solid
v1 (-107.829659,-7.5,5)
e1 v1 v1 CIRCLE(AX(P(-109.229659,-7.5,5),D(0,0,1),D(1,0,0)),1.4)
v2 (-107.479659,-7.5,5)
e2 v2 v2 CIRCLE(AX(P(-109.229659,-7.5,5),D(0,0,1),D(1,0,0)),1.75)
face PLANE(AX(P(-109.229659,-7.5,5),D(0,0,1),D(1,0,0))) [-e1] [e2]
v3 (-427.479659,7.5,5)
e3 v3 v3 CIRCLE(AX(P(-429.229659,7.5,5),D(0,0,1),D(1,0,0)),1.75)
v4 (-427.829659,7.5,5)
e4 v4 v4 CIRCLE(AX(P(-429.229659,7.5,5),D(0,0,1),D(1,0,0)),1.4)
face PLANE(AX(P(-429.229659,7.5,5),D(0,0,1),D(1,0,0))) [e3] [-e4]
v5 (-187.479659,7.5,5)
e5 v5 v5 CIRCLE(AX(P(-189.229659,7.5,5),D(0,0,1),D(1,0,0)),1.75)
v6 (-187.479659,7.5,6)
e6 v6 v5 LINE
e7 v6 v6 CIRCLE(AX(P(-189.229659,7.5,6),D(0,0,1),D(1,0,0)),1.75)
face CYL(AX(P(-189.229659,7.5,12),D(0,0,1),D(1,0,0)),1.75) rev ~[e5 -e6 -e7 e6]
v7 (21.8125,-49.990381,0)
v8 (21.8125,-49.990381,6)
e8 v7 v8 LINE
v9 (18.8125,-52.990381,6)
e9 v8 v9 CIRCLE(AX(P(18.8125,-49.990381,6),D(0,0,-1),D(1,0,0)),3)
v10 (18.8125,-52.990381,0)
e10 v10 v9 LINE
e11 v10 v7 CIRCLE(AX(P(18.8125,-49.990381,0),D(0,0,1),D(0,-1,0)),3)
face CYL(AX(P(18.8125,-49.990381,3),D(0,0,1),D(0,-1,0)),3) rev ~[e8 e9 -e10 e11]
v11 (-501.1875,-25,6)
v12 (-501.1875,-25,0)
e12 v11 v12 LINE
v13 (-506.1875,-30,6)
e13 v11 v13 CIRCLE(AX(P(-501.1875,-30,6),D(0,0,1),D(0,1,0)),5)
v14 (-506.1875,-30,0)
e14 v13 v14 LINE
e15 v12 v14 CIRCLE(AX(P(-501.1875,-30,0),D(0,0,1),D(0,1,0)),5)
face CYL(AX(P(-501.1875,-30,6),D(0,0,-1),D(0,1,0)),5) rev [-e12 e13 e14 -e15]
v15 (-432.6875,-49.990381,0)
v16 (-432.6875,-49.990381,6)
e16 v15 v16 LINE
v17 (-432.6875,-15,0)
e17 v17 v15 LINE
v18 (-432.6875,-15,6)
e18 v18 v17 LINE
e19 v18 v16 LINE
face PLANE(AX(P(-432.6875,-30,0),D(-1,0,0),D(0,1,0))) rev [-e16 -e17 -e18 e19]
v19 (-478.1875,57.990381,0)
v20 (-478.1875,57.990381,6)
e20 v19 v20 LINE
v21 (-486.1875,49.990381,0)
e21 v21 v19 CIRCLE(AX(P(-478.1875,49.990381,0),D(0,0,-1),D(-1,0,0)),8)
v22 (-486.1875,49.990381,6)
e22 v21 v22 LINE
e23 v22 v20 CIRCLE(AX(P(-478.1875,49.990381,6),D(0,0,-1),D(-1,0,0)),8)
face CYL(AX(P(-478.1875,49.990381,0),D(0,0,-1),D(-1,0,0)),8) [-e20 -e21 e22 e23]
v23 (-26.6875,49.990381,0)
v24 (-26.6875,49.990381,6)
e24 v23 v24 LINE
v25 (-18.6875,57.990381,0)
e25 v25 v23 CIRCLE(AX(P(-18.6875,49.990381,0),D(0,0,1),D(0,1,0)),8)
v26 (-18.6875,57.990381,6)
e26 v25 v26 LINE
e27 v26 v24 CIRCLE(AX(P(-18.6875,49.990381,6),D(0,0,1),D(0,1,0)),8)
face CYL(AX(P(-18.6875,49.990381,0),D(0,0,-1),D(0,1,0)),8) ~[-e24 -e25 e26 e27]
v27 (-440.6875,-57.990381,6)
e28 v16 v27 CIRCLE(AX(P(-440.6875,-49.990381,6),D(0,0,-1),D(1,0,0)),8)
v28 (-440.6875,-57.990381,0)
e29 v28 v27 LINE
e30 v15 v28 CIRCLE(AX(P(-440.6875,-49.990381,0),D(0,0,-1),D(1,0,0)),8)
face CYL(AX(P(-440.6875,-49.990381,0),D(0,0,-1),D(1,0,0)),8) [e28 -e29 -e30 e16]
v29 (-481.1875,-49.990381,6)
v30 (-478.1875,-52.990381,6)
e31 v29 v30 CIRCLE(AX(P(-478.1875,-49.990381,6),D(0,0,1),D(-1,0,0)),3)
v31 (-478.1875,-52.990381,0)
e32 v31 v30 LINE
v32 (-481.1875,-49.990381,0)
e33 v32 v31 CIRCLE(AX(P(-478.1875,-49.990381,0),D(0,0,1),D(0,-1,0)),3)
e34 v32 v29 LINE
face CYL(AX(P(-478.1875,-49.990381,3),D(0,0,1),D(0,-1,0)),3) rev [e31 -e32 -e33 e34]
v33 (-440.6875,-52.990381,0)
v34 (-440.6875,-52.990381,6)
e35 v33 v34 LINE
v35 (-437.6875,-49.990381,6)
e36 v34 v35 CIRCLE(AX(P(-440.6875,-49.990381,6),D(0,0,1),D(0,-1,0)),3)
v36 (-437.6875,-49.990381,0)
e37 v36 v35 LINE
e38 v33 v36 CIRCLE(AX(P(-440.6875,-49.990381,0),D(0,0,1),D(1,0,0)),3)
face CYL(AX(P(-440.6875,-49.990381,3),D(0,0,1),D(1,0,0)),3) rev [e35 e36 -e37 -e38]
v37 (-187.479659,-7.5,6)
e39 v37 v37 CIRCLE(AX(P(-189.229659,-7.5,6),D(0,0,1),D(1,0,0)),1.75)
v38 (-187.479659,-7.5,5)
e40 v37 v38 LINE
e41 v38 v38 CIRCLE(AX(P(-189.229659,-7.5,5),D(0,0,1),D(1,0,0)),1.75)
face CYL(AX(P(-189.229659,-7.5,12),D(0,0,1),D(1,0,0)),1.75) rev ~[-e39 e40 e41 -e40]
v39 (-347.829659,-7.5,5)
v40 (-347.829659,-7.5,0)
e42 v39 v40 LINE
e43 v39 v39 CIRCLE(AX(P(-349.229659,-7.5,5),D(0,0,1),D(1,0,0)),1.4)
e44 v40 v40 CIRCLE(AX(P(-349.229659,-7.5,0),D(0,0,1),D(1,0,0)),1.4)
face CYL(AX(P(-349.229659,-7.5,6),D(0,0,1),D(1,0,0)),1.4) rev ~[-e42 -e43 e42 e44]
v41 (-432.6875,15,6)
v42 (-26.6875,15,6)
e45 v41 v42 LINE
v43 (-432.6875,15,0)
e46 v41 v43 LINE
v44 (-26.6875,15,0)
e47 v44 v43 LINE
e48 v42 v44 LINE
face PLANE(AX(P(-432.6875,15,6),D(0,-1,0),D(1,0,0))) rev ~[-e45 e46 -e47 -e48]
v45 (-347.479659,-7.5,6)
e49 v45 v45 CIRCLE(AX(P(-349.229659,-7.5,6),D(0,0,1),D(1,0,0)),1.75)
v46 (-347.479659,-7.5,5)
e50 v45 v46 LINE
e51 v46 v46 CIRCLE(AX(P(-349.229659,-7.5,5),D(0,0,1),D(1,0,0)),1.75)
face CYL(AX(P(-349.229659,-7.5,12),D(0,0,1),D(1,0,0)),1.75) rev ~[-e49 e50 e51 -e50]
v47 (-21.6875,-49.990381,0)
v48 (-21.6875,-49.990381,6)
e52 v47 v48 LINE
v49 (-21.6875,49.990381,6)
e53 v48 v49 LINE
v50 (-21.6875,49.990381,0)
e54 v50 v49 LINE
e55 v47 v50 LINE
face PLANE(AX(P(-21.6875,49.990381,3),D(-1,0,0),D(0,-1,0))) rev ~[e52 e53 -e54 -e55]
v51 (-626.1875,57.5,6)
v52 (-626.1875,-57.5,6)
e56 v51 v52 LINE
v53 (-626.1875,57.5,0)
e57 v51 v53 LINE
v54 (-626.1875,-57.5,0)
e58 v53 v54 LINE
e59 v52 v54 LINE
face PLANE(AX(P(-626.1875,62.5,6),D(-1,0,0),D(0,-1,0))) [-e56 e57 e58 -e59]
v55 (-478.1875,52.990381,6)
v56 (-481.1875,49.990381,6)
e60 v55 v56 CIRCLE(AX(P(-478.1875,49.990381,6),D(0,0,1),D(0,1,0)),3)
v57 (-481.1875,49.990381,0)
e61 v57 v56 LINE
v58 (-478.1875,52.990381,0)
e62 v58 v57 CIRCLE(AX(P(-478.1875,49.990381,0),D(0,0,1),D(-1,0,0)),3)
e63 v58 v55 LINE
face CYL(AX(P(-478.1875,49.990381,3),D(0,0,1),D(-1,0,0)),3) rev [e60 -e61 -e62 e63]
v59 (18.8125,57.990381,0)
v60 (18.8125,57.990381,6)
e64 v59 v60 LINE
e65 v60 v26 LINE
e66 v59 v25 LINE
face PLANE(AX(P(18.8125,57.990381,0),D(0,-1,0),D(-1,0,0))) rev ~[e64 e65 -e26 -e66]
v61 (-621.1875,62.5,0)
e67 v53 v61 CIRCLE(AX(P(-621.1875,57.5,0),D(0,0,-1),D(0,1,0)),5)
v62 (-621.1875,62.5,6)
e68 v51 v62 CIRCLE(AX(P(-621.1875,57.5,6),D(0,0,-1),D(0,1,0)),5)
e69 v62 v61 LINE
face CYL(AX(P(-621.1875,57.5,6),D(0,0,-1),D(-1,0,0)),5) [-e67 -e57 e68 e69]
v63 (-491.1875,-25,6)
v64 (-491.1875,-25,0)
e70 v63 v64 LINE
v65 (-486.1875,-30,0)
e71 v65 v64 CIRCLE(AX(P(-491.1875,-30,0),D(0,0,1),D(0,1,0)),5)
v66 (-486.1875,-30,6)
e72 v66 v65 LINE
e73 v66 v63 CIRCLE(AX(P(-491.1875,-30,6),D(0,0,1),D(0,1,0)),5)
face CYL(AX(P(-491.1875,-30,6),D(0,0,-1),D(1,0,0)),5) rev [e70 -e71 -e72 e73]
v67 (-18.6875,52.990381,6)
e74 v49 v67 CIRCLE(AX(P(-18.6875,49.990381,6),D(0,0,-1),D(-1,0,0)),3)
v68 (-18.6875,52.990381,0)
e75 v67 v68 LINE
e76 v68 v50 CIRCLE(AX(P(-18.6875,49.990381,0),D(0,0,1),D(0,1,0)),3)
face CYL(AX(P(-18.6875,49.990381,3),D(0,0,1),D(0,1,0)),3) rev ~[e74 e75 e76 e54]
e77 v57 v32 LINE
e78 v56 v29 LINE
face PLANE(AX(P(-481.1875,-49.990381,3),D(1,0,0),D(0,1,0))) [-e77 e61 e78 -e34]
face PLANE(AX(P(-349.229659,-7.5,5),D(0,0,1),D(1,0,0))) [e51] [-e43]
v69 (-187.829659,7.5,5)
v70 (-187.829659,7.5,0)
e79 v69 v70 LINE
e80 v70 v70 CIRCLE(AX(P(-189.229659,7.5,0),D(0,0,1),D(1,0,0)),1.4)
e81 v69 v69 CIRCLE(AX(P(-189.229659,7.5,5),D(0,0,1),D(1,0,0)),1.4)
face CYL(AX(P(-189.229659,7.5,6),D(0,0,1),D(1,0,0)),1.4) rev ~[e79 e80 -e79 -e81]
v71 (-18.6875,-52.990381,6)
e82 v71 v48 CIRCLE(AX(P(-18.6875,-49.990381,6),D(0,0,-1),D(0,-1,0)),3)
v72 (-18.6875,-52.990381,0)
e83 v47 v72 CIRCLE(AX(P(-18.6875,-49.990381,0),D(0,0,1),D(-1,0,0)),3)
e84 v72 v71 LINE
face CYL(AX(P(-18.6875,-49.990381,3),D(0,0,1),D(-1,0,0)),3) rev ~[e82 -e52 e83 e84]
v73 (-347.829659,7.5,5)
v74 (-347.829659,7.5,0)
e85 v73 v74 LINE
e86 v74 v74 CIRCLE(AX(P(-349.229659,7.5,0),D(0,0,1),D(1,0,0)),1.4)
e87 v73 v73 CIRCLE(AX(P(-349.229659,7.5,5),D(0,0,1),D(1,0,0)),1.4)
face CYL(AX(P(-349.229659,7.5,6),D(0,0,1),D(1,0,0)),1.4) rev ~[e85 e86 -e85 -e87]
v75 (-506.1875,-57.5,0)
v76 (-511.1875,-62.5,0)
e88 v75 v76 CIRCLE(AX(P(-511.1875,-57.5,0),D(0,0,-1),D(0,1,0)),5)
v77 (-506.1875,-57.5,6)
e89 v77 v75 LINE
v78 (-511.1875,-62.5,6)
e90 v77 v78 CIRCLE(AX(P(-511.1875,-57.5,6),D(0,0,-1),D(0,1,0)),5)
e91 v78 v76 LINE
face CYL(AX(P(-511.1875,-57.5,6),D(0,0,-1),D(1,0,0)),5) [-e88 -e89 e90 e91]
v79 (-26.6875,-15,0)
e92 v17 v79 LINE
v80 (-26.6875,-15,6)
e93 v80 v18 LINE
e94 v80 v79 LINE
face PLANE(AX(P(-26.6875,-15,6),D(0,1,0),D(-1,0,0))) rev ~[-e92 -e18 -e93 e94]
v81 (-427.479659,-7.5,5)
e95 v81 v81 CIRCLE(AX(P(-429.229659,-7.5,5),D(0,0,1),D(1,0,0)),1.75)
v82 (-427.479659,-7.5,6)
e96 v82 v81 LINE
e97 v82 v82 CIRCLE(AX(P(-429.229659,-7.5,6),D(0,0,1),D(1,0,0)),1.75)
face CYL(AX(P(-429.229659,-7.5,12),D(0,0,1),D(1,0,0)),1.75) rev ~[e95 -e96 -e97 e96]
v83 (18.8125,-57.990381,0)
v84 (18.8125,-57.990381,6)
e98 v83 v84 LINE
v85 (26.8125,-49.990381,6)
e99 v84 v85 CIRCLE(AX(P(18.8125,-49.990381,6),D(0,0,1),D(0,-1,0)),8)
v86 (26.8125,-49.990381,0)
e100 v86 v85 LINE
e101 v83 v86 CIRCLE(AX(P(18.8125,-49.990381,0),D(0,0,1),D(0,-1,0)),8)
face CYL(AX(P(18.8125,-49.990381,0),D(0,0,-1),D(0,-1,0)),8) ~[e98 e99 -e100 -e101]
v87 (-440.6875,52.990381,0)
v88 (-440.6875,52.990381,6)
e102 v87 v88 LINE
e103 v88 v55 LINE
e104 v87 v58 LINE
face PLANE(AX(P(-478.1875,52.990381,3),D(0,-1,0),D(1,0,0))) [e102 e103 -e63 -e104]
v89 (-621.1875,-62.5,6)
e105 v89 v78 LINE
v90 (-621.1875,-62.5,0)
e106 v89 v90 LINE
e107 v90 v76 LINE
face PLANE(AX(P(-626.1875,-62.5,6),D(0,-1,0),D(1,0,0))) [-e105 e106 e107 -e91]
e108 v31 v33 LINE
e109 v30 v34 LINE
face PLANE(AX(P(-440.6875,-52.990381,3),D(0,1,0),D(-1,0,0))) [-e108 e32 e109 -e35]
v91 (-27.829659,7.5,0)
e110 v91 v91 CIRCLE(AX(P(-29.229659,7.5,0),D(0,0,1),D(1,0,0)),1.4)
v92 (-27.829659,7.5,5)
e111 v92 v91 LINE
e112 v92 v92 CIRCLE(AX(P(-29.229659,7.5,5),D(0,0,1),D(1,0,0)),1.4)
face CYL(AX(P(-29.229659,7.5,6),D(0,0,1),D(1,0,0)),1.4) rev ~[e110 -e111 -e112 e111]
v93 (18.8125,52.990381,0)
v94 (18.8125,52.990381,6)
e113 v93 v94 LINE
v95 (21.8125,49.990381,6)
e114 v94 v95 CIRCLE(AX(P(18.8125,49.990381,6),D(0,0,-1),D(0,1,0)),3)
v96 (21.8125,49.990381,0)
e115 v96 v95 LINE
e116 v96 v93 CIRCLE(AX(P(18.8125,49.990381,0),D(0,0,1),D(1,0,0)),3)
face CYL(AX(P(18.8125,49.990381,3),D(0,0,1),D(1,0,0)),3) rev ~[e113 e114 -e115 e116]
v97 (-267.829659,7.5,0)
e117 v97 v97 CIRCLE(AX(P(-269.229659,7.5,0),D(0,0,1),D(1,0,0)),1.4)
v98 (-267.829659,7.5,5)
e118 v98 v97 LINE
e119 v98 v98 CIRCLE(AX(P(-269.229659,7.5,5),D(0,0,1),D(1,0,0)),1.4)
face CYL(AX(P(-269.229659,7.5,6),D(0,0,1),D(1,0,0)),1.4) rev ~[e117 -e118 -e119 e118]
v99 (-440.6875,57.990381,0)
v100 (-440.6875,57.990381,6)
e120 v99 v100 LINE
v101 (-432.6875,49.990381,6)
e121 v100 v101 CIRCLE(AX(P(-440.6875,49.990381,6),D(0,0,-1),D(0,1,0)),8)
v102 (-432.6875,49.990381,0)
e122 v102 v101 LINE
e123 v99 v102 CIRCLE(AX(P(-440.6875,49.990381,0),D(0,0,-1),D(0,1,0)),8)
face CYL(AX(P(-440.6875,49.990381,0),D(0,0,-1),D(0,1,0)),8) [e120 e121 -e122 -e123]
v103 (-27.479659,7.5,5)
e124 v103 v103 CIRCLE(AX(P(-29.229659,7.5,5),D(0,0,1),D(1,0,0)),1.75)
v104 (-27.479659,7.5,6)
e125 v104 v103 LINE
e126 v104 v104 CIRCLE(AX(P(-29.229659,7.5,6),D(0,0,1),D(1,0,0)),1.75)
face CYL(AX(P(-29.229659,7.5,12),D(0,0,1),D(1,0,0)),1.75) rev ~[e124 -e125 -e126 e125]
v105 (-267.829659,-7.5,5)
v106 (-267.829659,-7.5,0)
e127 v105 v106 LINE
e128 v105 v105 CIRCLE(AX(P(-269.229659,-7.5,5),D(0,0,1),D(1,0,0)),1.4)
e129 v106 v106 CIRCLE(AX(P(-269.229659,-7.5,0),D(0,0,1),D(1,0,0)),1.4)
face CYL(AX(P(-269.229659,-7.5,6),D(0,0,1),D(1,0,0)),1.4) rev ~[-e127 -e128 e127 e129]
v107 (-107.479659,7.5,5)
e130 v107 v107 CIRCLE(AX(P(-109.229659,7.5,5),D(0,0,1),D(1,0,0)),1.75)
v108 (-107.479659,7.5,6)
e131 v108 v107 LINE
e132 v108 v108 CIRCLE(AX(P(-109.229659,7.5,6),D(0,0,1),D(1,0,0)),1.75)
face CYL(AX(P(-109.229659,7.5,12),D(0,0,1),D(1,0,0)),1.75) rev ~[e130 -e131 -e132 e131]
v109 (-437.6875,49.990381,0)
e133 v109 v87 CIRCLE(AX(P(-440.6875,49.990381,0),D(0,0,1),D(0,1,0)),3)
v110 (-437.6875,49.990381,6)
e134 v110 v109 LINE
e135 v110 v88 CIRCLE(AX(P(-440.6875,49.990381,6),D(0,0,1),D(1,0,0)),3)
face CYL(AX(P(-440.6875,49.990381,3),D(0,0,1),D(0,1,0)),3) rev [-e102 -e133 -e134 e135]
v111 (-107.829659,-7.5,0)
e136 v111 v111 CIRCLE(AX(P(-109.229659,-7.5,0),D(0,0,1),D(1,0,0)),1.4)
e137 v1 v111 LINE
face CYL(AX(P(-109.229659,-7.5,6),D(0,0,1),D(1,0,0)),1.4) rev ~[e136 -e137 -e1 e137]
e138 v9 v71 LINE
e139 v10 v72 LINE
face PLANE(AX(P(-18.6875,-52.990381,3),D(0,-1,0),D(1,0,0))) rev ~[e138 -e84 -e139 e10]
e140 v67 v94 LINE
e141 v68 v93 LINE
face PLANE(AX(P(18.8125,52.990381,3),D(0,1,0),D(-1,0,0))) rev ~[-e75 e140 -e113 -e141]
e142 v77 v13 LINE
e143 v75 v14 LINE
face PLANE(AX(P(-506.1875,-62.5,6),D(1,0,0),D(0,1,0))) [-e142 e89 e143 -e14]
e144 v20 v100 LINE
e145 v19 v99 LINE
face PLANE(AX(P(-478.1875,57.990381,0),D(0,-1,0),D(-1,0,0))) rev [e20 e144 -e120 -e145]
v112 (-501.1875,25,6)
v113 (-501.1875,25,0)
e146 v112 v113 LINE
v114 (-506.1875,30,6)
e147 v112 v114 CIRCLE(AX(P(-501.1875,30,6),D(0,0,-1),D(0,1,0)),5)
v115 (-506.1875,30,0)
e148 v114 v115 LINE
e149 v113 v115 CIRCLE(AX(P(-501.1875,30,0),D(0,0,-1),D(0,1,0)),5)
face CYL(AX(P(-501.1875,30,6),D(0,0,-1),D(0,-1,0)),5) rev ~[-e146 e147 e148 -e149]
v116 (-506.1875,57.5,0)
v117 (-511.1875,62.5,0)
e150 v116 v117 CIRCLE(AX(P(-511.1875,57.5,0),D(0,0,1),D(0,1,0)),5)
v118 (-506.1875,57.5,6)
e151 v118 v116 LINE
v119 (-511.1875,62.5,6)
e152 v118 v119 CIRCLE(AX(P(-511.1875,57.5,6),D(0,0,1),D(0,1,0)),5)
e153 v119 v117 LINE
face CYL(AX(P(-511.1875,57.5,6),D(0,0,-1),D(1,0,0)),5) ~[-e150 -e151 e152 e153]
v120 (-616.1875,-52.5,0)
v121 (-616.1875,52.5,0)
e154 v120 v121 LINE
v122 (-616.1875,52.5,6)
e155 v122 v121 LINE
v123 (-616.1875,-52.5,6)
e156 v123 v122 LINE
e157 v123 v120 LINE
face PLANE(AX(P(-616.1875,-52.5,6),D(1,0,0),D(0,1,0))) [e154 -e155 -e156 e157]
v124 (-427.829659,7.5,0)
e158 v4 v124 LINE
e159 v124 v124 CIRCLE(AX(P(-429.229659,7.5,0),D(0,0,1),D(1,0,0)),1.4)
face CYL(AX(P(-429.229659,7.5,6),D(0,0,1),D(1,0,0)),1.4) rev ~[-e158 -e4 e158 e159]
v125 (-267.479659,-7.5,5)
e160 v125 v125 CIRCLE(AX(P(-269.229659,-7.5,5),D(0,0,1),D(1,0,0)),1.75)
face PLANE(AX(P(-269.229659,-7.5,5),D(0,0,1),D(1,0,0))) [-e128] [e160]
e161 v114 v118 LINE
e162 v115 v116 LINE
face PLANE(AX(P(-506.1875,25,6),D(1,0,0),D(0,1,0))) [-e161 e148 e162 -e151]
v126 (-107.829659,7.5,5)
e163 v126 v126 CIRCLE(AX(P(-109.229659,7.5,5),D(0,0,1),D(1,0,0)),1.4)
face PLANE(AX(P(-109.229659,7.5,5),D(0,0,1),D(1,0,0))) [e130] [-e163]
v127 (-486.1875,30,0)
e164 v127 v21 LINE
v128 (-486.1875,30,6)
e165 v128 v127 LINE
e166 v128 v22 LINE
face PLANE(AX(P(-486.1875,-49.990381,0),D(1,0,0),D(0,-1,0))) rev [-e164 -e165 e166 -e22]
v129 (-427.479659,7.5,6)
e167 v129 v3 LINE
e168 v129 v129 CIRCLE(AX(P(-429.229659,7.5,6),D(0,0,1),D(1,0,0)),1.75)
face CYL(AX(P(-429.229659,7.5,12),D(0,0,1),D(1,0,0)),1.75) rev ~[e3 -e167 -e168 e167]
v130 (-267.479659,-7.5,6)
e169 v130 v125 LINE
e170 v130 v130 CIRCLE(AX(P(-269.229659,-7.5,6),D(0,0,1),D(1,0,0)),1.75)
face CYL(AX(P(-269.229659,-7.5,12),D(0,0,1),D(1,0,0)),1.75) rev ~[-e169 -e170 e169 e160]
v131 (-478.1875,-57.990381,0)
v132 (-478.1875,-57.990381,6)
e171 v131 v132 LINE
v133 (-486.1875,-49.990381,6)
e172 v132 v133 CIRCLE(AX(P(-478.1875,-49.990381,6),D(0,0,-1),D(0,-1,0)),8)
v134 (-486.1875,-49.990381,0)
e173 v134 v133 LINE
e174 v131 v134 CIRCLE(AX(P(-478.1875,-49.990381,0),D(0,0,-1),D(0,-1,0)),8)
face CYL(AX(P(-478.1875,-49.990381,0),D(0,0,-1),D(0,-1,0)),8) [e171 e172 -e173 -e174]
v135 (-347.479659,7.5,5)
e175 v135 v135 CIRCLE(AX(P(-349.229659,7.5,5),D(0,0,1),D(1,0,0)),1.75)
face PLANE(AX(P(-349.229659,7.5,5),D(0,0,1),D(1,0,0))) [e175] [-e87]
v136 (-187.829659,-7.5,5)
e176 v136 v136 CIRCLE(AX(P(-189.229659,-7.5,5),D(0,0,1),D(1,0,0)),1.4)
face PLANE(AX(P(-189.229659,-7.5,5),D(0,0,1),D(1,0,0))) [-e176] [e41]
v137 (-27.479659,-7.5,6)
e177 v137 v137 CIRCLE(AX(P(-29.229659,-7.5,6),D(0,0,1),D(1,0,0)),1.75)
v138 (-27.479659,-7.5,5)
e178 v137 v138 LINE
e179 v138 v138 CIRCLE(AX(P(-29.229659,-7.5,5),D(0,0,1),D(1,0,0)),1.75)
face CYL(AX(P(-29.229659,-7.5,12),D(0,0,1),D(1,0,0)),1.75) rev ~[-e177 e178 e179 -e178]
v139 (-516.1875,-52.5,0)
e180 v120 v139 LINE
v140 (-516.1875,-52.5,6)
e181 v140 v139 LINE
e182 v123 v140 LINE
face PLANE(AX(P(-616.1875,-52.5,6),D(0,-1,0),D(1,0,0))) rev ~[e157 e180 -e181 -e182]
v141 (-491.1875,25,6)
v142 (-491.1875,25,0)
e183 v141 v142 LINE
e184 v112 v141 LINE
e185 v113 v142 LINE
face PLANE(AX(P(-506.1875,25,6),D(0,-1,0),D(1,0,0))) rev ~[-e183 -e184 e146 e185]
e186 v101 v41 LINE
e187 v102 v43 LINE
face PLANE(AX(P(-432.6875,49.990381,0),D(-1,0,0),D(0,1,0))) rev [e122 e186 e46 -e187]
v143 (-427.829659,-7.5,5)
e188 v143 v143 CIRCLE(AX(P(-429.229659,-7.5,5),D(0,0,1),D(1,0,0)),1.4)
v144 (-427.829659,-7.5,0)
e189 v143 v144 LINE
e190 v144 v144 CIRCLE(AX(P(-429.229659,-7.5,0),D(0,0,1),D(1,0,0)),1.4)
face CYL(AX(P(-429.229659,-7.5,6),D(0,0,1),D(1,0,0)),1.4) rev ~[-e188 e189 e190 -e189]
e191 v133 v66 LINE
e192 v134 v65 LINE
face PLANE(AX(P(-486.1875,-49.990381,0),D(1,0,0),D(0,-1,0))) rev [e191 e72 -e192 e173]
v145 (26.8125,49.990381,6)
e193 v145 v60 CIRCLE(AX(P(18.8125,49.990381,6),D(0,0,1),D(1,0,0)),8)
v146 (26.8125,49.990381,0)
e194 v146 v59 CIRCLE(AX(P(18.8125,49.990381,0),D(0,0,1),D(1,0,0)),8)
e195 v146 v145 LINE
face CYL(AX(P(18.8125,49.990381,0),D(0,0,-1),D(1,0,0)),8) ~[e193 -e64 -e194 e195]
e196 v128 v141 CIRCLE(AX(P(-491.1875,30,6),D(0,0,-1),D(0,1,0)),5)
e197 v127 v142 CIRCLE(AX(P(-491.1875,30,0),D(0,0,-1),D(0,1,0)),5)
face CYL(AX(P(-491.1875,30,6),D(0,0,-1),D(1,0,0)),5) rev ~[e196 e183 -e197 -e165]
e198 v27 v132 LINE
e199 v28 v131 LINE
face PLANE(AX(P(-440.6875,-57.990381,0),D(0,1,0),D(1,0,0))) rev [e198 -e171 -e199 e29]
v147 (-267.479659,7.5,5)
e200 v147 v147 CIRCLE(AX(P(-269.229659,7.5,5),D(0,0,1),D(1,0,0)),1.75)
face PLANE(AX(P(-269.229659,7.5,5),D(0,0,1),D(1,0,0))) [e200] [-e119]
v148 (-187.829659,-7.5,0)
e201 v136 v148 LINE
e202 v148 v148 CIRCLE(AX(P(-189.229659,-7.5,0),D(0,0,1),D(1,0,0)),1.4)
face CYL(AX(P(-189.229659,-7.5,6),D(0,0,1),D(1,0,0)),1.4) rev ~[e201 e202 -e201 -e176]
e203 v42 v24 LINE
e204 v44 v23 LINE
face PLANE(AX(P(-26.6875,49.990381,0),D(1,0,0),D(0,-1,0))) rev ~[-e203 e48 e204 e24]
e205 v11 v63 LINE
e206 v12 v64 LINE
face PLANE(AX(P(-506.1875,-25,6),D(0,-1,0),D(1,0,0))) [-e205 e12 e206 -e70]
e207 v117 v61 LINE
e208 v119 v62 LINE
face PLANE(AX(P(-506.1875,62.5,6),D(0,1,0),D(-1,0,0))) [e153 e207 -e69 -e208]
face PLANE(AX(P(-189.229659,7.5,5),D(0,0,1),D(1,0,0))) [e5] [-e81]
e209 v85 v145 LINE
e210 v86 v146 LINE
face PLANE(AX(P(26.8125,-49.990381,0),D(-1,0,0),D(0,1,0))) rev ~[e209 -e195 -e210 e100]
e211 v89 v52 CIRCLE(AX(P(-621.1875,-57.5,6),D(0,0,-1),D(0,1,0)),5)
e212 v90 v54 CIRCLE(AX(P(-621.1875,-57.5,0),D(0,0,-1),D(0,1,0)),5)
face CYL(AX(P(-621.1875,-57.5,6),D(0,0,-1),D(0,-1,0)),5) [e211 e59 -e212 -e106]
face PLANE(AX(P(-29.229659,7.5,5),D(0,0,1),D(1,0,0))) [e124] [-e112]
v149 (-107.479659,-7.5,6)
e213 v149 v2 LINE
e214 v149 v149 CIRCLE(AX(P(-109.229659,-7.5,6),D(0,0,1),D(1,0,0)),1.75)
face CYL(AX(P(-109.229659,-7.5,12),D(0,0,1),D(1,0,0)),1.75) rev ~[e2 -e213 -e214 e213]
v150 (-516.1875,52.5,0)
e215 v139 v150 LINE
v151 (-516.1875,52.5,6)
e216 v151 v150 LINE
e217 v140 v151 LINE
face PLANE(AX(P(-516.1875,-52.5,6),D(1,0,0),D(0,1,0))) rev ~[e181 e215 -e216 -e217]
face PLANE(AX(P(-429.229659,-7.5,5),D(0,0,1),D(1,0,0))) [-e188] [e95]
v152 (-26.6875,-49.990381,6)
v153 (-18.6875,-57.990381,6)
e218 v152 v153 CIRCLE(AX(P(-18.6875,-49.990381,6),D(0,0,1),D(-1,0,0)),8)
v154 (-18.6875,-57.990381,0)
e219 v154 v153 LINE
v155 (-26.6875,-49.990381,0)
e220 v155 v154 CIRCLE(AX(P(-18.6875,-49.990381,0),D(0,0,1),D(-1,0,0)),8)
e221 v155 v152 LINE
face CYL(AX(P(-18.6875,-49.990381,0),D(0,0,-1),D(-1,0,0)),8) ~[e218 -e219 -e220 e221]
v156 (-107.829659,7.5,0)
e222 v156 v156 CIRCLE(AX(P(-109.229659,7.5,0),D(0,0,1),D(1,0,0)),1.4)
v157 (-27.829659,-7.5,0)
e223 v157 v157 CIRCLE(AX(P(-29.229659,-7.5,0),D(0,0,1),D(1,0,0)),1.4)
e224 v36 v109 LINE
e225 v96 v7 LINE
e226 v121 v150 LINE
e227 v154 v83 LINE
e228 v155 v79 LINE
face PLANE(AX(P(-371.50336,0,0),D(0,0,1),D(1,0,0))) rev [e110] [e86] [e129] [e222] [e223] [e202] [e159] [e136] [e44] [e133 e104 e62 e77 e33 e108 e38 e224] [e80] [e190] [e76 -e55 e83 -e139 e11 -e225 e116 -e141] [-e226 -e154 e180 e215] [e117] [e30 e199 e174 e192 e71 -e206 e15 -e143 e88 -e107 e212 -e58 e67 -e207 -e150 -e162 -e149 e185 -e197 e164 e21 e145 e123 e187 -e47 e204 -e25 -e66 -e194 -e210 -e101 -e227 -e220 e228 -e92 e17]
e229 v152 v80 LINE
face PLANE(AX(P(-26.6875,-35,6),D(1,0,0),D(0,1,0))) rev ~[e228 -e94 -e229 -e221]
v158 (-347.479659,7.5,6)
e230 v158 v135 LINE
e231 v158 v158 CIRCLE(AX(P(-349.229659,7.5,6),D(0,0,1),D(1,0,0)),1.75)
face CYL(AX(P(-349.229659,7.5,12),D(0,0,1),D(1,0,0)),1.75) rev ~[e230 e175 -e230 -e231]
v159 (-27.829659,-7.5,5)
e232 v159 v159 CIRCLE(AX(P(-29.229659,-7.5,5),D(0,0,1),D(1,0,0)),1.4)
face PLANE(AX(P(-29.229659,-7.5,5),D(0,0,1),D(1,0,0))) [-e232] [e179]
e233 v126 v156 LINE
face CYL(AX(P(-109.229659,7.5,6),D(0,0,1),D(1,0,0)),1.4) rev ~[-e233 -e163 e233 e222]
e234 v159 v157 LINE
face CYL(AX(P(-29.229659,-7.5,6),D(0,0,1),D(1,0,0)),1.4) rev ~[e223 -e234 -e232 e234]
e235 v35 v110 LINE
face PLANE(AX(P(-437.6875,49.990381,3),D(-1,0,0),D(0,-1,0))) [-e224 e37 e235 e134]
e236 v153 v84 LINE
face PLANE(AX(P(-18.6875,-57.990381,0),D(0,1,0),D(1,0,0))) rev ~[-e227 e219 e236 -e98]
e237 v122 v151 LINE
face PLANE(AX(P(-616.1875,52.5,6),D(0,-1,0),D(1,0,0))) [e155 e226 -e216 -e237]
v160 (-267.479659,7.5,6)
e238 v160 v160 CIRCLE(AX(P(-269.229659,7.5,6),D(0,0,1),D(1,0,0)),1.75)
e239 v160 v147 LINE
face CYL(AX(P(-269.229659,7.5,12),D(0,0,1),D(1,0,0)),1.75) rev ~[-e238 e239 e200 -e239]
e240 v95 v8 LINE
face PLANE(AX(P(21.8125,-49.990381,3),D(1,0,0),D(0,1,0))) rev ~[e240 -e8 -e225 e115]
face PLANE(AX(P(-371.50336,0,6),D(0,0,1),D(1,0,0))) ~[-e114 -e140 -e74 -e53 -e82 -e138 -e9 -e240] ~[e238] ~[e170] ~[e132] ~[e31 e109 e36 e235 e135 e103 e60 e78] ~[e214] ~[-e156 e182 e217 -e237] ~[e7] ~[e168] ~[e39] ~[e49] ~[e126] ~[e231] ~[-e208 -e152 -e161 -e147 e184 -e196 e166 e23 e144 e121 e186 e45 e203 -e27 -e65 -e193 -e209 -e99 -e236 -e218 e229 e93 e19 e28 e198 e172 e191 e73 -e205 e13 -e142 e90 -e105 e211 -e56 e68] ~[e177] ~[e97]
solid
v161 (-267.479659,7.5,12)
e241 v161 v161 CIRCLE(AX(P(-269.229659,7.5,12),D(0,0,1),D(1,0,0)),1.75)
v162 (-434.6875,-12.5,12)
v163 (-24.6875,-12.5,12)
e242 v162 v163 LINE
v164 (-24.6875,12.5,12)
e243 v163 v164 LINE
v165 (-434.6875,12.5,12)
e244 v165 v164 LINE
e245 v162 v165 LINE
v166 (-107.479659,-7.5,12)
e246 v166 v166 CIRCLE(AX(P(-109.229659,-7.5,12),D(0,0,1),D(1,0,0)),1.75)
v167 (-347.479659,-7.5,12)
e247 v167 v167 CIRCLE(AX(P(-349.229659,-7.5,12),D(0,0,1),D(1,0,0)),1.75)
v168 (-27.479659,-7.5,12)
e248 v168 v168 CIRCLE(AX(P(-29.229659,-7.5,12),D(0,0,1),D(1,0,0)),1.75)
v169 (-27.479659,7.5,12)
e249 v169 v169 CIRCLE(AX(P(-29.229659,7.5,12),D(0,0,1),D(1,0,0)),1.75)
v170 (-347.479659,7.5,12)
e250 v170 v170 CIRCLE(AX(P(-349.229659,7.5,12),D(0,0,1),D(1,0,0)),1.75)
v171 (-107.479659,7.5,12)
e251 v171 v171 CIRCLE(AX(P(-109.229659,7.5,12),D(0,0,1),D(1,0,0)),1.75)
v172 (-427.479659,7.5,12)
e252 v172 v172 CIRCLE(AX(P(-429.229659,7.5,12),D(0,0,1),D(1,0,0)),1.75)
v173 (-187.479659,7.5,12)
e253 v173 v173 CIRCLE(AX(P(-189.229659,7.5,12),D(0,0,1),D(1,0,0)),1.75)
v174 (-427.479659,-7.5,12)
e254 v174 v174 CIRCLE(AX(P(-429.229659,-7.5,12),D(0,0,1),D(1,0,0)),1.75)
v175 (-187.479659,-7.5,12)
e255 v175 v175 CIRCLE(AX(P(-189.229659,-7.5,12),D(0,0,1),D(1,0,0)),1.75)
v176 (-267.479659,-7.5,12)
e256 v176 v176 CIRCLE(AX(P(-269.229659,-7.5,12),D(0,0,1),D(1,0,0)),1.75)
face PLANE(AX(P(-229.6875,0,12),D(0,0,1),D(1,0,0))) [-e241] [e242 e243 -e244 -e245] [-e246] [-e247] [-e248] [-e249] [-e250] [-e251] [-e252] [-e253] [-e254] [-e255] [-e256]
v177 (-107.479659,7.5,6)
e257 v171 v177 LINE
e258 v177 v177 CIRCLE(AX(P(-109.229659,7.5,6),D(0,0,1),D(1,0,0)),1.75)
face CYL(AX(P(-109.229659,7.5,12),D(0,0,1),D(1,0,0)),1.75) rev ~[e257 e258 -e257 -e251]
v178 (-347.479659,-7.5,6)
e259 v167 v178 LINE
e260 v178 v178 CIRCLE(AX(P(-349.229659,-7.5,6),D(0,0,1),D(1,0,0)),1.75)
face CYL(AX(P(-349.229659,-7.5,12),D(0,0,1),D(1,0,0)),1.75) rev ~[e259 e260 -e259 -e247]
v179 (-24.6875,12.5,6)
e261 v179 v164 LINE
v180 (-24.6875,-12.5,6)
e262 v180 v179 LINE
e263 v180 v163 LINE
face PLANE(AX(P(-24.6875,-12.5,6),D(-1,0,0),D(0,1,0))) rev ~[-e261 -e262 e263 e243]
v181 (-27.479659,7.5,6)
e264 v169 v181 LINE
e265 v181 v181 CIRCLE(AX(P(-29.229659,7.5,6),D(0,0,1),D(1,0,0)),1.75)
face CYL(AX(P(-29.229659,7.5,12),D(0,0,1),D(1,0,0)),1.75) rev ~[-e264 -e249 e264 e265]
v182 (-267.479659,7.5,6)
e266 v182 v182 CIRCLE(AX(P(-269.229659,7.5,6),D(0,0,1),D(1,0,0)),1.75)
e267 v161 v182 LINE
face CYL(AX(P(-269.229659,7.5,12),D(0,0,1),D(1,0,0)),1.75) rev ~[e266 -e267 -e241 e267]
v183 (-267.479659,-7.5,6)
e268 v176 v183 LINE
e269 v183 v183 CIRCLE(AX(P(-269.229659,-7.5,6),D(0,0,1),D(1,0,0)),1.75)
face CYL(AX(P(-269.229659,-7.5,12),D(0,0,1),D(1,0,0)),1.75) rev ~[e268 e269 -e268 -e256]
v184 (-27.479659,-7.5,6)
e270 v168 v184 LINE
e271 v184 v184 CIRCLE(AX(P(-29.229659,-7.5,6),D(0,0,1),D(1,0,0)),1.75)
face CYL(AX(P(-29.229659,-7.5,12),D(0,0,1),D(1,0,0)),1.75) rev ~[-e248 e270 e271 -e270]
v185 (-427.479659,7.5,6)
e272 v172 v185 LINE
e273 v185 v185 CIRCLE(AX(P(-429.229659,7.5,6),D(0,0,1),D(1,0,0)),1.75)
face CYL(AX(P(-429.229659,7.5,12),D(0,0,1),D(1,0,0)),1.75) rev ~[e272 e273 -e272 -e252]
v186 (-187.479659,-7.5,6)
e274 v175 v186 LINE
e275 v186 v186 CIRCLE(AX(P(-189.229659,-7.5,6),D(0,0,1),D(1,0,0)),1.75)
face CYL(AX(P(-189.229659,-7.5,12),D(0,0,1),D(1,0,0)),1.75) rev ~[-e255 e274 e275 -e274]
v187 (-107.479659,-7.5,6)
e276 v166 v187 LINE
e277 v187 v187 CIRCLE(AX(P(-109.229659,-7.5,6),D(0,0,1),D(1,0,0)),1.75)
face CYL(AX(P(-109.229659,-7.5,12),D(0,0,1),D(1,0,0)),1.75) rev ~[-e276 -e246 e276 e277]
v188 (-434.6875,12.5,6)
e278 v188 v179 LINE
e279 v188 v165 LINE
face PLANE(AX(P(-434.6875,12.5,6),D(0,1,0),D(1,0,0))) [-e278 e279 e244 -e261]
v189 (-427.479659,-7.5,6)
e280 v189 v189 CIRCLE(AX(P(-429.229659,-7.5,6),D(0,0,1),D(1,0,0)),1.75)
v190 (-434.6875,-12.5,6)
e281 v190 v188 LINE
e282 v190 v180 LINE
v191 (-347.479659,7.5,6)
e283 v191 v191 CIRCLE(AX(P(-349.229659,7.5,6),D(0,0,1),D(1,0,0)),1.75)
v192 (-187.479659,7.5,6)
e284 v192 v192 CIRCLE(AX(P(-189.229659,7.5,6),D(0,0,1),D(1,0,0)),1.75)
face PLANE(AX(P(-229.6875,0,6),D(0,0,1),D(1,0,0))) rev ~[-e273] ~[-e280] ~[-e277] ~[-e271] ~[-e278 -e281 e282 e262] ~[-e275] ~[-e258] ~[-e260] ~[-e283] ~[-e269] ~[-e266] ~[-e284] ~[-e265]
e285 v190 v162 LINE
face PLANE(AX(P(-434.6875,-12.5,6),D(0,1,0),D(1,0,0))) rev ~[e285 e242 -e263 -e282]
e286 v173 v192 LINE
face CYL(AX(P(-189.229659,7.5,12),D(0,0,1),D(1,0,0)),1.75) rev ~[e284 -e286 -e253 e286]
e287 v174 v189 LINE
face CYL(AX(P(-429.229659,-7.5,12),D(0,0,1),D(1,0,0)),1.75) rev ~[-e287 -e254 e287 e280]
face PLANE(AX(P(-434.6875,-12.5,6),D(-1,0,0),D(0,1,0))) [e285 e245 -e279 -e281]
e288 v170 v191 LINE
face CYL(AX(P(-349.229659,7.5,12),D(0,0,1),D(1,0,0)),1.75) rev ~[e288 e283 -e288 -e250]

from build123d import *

# Parameters (mm, degrees)
F0_R      = 1.75
F1_DEPTH  = 3
F3_DEPTH  = 6
F7_DEPTH  = 6
F8_R      = 10
F10_DEPTH = 25
F11_R     = 5
F12_W     = 410
F12_H     = 25
F13_DEPTH = 6
F14_R     = 1.75
F15_DEPTH = 7
F16_R     = 1.4
F17_DEPTH = 25
F18_DEPTH = 25
F19_DEPTH = 25
F21_DEPTH = 25
F22_W     = 20
F22_H     = 50
F22_W_2   = 100
F22_H_2   = 105
F23_DEPTH = 6
F24_R     = 5


with BuildPart() as f1:
    # F0 (on Top) → F1 (new body)
    with BuildSketch(Plane.XY):
        with BuildLine():
            ThreePointArc((-18.6875, 52.9903810568), (-20.8088203436, 52.1117014003), (-21.6875, 49.9903810568))
            Line((-21.6875, 49.9903810568), (-21.6875, -49.9903810568))
            ThreePointArc((-21.6875, -49.9903810568), (-20.8088203436, -52.1117014003), (-18.6875, -52.9903810568))
            Line((-18.6875, -52.9903810568), (18.8125, -52.9903810568))
            ThreePointArc((18.8125, -52.9903810568), (20.9338203436, -52.1117014003), (21.8125, -49.9903810568))
            Line((21.8125, -49.9903810568), (21.8125, 49.9903810568))
            ThreePointArc((21.8125, 49.9903810568), (20.9338203436, 52.1117014003), (18.8125, 52.9903810568))
            Line((18.8125, 52.9903810568), (-18.6875, 52.9903810568))
        make_face()
        with Locations((-12.6875, -32.9903810568)):
            Circle(F0_R, mode=Mode.SUBTRACT)
        with Locations((12.3125, -32.9903810568)):
            Circle(F0_R, mode=Mode.SUBTRACT)
        with Locations((-12.6875, 32.9903810568)):
            Circle(F0_R, mode=Mode.SUBTRACT)
        with Locations((12.3125, 32.9903810568)):
            Circle(F0_R, mode=Mode.SUBTRACT)
    extrude(amount=F1_DEPTH)

    # F2 (on Top) → F3 (join)
    with BuildSketch(Plane.XY):
        with BuildLine():
            Line((18.8125, 57.9903810568), (-18.6875, 57.9903810568))
            ThreePointArc((-18.6875, 57.9903810568), (-24.3443542495, 55.6472353063), (-26.6875, 49.9903810568))
            Line((-26.6875, 49.9903810568), (-26.6875, 30))
            Line((-26.6875, 30), (-229.6875, 30))
            Line((-229.6875, 30), (-229.6875, -30))
            Line((-229.6875, -30), (-26.6875, -30))
            Line((-26.6875, -30), (-26.6875, -49.9903810568))
            ThreePointArc((-26.6875, -49.9903810568), (-24.3443542495, -55.6472353063), (-18.6875, -57.9903810568))
            Line((-18.6875, -57.9903810568), (18.8125, -57.9903810568))
            ThreePointArc((18.8125, -57.9903810568), (24.4693542495, -55.6472353063), (26.8125, -49.9903810568))
            Line((26.8125, -49.9903810568), (26.8125, 49.9903810568))
            ThreePointArc((26.8125, 49.9903810568), (24.4693542495, 55.6472353063), (18.8125, 57.9903810568))
        make_face()
        with BuildLine():
            Line((-21.6875, 0), (-21.6875, 49.9903810568))
            ThreePointArc((-21.6875, 49.9903810568), (-20.8088203436, 52.1117014003), (-18.6875, 52.9903810568))
            Line((-18.6875, 52.9903810568), (18.8125, 52.9903810568))
            ThreePointArc((18.8125, 52.9903810568), (20.9338203436, 52.1117014003), (21.8125, 49.9903810568))
            Line((21.8125, 49.9903810568), (21.8125, -49.9903810568))
            ThreePointArc((21.8125, -49.9903810568), (20.9338203436, -52.1117014003), (18.8125, -52.9903810568))
            Line((18.8125, -52.9903810568), (-18.6875, -52.9903810568))
            ThreePointArc((-18.6875, -52.9903810568), (-20.8088203436, -52.1117014003), (-21.6875, -49.9903810568))
            Line((-21.6875, -49.9903810568), (-21.6875, 0))
        make_face(mode=Mode.SUBTRACT)
    extrude(amount=F3_DEPTH)

    # F5: F1 across plane


with BuildPart() as f1_1:
    add(f1.part)
    add(f1.part.mirror(Plane(origin=(-229.6875, 0, 3), x_dir=(0, -1, 0), z_dir=(-1, 0, 0))))

    # F6 (on face) → F7 (join, through all)
    with BuildSketch(Plane.XY.offset(6)):
        Polygon((-289.6875, 30), (-229.6875, 30), (-169.6875, 30), (-169.6875, 57.9903810568), (-289.6875, 57.9903810568), align=None)
    extrude(amount=-F7_DEPTH)

    # F8
    f8_edges = [f1_1.edges().sort_by_distance(p)[0] for p in [
        (-169.6875, 57.990381, 3),
        (-169.6875, 30, 3),
        (-289.6875, 57.990381, 3),
        (-289.6875, 30, 3),
    ]]
    fillet(f8_edges, radius=F8_R)

    # F9 (on face) → F10 (cut)
    with BuildSketch(Plane.XY.offset(6)):
        with BuildLine():
            ThreePointArc((-279.6875, 27.9903810568), (-278.2230339059, 24.4548471508), (-274.6875, 22.9903810568))
            Line((-274.6875, 22.9903810568), (-184.6875, 22.9903810568))
            ThreePointArc((-184.6875, 22.9903810568), (-181.1519660941, 24.4548471508), (-179.6875, 27.9903810568))
            Line((-179.6875, 27.9903810568), (-179.6875, 42.9903810568))
            ThreePointArc((-179.6875, 42.9903810568), (-181.1519660941, 46.5259149627), (-184.6875, 47.9903810568))
            Line((-184.6875, 47.9903810568), (-274.6875, 47.9903810568))
            ThreePointArc((-274.6875, 47.9903810568), (-278.2230339059, 46.5259149627), (-279.6875, 42.9903810568))
            Line((-279.6875, 42.9903810568), (-279.6875, 27.9903810568))
        make_face()
    extrude(amount=-F10_DEPTH, mode=Mode.SUBTRACT)

    # F11
    f11_edges = [f1_1.edges().sort_by_distance(p)[0] for p in [
        (-432.6875, 30, 3),
        (-432.6875, -30, 3),
        (-26.6875, -30, 3),
        (-26.6875, 30, 3),
    ]]
    fillet(f11_edges, radius=F11_R)


with BuildPart() as f13:
    # F12 (on face) → F13 (new body)
    with BuildSketch(Plane.XY.offset(6)):
        with Locations((-229.6875, 0)):
            Rectangle(F12_W, F12_H)
    extrude(amount=F13_DEPTH)


with BuildPart() as f15_tool:
    # F14 (on face) → F15 (new body)
    with BuildSketch(Plane.XY.offset(12)):
        with Locations((-429.2296588421, 7.5)):
            Circle(F14_R)
        with Locations((-429.2296588421, -7.5)):
            Circle(F14_R)
        with Locations((-349.2296588421, -7.5)):
            Circle(F14_R)
        with Locations((-349.2296588421, 7.5)):
            Circle(F14_R)
        with Locations((-269.2296588421, 7.5)):
            Circle(F14_R)
        with Locations((-269.2296588421, -7.5)):
            Circle(F14_R)
        with Locations((-189.2296588421, -7.5)):
            Circle(F14_R)
        with Locations((-189.2296588421, 7.5)):
            Circle(F14_R)
        with Locations((-109.2296588421, -7.5)):
            Circle(F14_R)
        with Locations((-109.2296588421, 7.5)):
            Circle(F14_R)
        with Locations((-29.2296588421, -7.5)):
            Circle(F14_R)
        with Locations((-29.2296588421, 7.5)):
            Circle(F14_R)
    extrude(amount=-F15_DEPTH)


with BuildPart() as f1_2:
    add(f1_1.part)

    # F15: cut by f15_tool
    add(f15_tool.part, mode=Mode.SUBTRACT)

    # F16 (on face) → F17 (cut)
    with BuildSketch(Plane.XY.offset(6)):
        with Locations((-429.2296588421, 7.5)):
            Circle(F16_R)
        with Locations((-349.2296588421, 7.5)):
            Circle(F16_R)
        with Locations((-269.2296588421, 7.5)):
            Circle(F16_R)
        with Locations((-189.2296588421, 7.5)):
            Circle(F16_R)
        with Locations((-109.2296588421, 7.5)):
            Circle(F16_R)
        with Locations((-29.2296588421, 7.5)):
            Circle(F16_R)
        with Locations((-429.2296588421, -7.5)):
            Circle(F16_R)
        with Locations((-349.2296588421, -7.5)):
            Circle(F16_R)
        with Locations((-269.2296588421, -7.5)):
            Circle(F16_R)
        with Locations((-189.2296588421, -7.5)):
            Circle(F16_R)
        with Locations((-109.2296588421, -7.5)):
            Circle(F16_R)
        with Locations((-29.2296588421, -7.5)):
            Circle(F16_R)
    extrude(amount=-F17_DEPTH, mode=Mode.SUBTRACT)

    # F18 (cut): a face of the model
    f18_faces = [f1_2.faces().sort_by_distance(p)[0] for p in [
        (-459.4396080689, 0, 3),
    ]]
    extrude(f18_faces, amount=-F18_DEPTH, mode=Mode.SUBTRACT)

    # F19 (cut): a face of the model
    f19_faces = [f1_2.faces().sort_by_distance(p)[0] for p in [
        (0.0646080689, 0, 3),
    ]]
    extrude(f19_faces, amount=-F19_DEPTH, mode=Mode.SUBTRACT)

    # F20 (on face) → F21 (cut)
    with BuildSketch(Plane.XY.offset(6)):
        with BuildLine():
            ThreePointArc((-427.6875, 30), (-431.2230339059, 31.4644660941), (-432.6875, 35))
            Line((-432.6875, 35), (-432.6875, 15))
            Line((-432.6875, 15), (-26.6875, 15))
            Line((-26.6875, 15), (-26.6875, 35))
            ThreePointArc((-26.6875, 35), (-28.1519660941, 31.4644660941), (-31.6875, 30))
            Line((-31.6875, 30), (-159.6875, 30))
            ThreePointArc((-159.6875, 30), (-166.7585678119, 32.9289321881), (-169.6875, 40))
            Line((-169.6875, 40), (-169.6875, 47.9903810568))
            ThreePointArc((-169.6875, 47.9903810568), (-172.6164321881, 55.0614488686), (-179.6875, 57.9903810568))
            Line((-179.6875, 57.9903810568), (-279.6875, 57.9903810568))
            ThreePointArc((-279.6875, 57.9903810568), (-286.7585678119, 55.0614488686), (-289.6875, 47.9903810568))
            Line((-289.6875, 47.9903810568), (-289.6875, 40))
            ThreePointArc((-289.6875, 40), (-292.6164321881, 32.9289321881), (-299.6875, 30))
            Line((-299.6875, 30), (-427.6875, 30))
        make_face()
        with BuildLine():
            Line((-279.6875, 27.9903810568), (-279.6875, 42.9903810568))
            ThreePointArc((-279.6875, 42.9903810568), (-278.2230339059, 46.5259149627), (-274.6875, 47.9903810568))
            Line((-274.6875, 47.9903810568), (-184.6875, 47.9903810568))
            ThreePointArc((-184.6875, 47.9903810568), (-181.1519660941, 46.5259149627), (-179.6875, 42.9903810568))
            Line((-179.6875, 42.9903810568), (-179.6875, 27.9903810568))
            ThreePointArc((-179.6875, 27.9903810568), (-181.1519660941, 24.4548471508), (-184.6875, 22.9903810568))
            Line((-184.6875, 22.9903810568), (-274.6875, 22.9903810568))
            ThreePointArc((-274.6875, 22.9903810568), (-278.2230339059, 24.4548471508), (-279.6875, 27.9903810568))
        make_face(mode=Mode.SUBTRACT)
        with BuildLine():
            Line((-303.7117123604, 72.7798044682), (-432.6875, 35))
            ThreePointArc((-432.6875, 35), (-431.2230339059, 31.4644660941), (-427.6875, 30))
            Line((-427.6875, 30), (-299.6875, 30))
            ThreePointArc((-299.6875, 30), (-292.6164321881, 32.9289321881), (-289.6875, 40))
            Line((-289.6875, 40), (-289.6875, 47.9903810568))
            ThreePointArc((-289.6875, 47.9903810568), (-286.7585678119, 55.0614488686), (-279.6875, 57.9903810568))
            Line((-279.6875, 57.9903810568), (-179.6875, 57.9903810568))
            ThreePointArc((-179.6875, 57.9903810568), (-172.6164321881, 55.0614488686), (-169.6875, 47.9903810568))
            Line((-169.6875, 47.9903810568), (-169.6875, 40))
            ThreePointArc((-169.6875, 40), (-166.7585678119, 32.9289321881), (-159.6875, 30))
            Line((-159.6875, 30), (-31.6875, 30))
            ThreePointArc((-31.6875, 30), (-28.1519660941, 31.4644660941), (-26.6875, 35))
            Line((-26.6875, 35), (-151.1436700821, 72.7798044682))
            Line((-151.1436700821, 72.7798044682), (-303.7117123604, 72.7798044682))
        make_face()
        with BuildLine():
            Line((-26.6875, -15), (-432.6875, -15))
            Line((-432.6875, -15), (-432.6875, -35))
            ThreePointArc((-432.6875, -35), (-431.2230339059, -31.4644660941), (-427.6875, -30))
            Line((-427.6875, -30), (-31.6875, -30))
            ThreePointArc((-31.6875, -30), (-28.1519660941, -31.4644660941), (-26.6875, -35))
            Line((-26.6875, -35), (-26.6875, -15))
        make_face()
        with BuildLine():
            ThreePointArc((-427.6875, -30), (-431.2230339059, -31.4644660941), (-432.6875, -35))
            Line((-432.6875, -35), (-388.8910412788, -53.9109669626))
            Line((-388.8910412788, -53.9109669626), (-192.6551163197, -53.9109669626))
            Line((-192.6551163197, -53.9109669626), (-26.6875, -35))
            ThreePointArc((-26.6875, -35), (-28.1519660941, -31.4644660941), (-31.6875, -30))
            Line((-31.6875, -30), (-427.6875, -30))
        make_face()
    extrude(amount=-F21_DEPTH, mode=Mode.SUBTRACT)

    # F22 (on face) → F23 (join, through all)
    with BuildSketch(Plane.XY.offset(6)):
        with Locations((-496.1875, 0)):
            Rectangle(F22_W, F22_H)
        Polygon((-506.1875, 62.5), (-626.1875, 62.5), (-626.1875, -62.5), (-506.1875, -62.5), (-506.1875, -25), (-506.1875, 25), align=None)
        with Locations((-566.1875, 0)):
            Rectangle(F22_W_2, F22_H_2, mode=Mode.SUBTRACT)
    extrude(amount=-F23_DEPTH)

    # F24
    f24_edges = [f1_2.edges().sort_by_distance(p)[0] for p in [
        (-626.1875, 62.5, 3),
        (-506.1875, 62.5, 3),
        (-486.1875, 25, 3),
        (-506.1875, 25, 3),
        (-486.1875, -25, 3),
        (-506.1875, -25, 3),
        (-506.1875, -62.5, 3),
        (-626.1875, -62.5, 3),
    ]]
    fillet(f24_edges, radius=F24_R)


with BuildPart() as f13_1:
    add(f13.part)

    # F15: cut by f15_tool
    add(f15_tool.part, mode=Mode.SUBTRACT)


solid = Compound([f1_2.part, f13_1.part])
